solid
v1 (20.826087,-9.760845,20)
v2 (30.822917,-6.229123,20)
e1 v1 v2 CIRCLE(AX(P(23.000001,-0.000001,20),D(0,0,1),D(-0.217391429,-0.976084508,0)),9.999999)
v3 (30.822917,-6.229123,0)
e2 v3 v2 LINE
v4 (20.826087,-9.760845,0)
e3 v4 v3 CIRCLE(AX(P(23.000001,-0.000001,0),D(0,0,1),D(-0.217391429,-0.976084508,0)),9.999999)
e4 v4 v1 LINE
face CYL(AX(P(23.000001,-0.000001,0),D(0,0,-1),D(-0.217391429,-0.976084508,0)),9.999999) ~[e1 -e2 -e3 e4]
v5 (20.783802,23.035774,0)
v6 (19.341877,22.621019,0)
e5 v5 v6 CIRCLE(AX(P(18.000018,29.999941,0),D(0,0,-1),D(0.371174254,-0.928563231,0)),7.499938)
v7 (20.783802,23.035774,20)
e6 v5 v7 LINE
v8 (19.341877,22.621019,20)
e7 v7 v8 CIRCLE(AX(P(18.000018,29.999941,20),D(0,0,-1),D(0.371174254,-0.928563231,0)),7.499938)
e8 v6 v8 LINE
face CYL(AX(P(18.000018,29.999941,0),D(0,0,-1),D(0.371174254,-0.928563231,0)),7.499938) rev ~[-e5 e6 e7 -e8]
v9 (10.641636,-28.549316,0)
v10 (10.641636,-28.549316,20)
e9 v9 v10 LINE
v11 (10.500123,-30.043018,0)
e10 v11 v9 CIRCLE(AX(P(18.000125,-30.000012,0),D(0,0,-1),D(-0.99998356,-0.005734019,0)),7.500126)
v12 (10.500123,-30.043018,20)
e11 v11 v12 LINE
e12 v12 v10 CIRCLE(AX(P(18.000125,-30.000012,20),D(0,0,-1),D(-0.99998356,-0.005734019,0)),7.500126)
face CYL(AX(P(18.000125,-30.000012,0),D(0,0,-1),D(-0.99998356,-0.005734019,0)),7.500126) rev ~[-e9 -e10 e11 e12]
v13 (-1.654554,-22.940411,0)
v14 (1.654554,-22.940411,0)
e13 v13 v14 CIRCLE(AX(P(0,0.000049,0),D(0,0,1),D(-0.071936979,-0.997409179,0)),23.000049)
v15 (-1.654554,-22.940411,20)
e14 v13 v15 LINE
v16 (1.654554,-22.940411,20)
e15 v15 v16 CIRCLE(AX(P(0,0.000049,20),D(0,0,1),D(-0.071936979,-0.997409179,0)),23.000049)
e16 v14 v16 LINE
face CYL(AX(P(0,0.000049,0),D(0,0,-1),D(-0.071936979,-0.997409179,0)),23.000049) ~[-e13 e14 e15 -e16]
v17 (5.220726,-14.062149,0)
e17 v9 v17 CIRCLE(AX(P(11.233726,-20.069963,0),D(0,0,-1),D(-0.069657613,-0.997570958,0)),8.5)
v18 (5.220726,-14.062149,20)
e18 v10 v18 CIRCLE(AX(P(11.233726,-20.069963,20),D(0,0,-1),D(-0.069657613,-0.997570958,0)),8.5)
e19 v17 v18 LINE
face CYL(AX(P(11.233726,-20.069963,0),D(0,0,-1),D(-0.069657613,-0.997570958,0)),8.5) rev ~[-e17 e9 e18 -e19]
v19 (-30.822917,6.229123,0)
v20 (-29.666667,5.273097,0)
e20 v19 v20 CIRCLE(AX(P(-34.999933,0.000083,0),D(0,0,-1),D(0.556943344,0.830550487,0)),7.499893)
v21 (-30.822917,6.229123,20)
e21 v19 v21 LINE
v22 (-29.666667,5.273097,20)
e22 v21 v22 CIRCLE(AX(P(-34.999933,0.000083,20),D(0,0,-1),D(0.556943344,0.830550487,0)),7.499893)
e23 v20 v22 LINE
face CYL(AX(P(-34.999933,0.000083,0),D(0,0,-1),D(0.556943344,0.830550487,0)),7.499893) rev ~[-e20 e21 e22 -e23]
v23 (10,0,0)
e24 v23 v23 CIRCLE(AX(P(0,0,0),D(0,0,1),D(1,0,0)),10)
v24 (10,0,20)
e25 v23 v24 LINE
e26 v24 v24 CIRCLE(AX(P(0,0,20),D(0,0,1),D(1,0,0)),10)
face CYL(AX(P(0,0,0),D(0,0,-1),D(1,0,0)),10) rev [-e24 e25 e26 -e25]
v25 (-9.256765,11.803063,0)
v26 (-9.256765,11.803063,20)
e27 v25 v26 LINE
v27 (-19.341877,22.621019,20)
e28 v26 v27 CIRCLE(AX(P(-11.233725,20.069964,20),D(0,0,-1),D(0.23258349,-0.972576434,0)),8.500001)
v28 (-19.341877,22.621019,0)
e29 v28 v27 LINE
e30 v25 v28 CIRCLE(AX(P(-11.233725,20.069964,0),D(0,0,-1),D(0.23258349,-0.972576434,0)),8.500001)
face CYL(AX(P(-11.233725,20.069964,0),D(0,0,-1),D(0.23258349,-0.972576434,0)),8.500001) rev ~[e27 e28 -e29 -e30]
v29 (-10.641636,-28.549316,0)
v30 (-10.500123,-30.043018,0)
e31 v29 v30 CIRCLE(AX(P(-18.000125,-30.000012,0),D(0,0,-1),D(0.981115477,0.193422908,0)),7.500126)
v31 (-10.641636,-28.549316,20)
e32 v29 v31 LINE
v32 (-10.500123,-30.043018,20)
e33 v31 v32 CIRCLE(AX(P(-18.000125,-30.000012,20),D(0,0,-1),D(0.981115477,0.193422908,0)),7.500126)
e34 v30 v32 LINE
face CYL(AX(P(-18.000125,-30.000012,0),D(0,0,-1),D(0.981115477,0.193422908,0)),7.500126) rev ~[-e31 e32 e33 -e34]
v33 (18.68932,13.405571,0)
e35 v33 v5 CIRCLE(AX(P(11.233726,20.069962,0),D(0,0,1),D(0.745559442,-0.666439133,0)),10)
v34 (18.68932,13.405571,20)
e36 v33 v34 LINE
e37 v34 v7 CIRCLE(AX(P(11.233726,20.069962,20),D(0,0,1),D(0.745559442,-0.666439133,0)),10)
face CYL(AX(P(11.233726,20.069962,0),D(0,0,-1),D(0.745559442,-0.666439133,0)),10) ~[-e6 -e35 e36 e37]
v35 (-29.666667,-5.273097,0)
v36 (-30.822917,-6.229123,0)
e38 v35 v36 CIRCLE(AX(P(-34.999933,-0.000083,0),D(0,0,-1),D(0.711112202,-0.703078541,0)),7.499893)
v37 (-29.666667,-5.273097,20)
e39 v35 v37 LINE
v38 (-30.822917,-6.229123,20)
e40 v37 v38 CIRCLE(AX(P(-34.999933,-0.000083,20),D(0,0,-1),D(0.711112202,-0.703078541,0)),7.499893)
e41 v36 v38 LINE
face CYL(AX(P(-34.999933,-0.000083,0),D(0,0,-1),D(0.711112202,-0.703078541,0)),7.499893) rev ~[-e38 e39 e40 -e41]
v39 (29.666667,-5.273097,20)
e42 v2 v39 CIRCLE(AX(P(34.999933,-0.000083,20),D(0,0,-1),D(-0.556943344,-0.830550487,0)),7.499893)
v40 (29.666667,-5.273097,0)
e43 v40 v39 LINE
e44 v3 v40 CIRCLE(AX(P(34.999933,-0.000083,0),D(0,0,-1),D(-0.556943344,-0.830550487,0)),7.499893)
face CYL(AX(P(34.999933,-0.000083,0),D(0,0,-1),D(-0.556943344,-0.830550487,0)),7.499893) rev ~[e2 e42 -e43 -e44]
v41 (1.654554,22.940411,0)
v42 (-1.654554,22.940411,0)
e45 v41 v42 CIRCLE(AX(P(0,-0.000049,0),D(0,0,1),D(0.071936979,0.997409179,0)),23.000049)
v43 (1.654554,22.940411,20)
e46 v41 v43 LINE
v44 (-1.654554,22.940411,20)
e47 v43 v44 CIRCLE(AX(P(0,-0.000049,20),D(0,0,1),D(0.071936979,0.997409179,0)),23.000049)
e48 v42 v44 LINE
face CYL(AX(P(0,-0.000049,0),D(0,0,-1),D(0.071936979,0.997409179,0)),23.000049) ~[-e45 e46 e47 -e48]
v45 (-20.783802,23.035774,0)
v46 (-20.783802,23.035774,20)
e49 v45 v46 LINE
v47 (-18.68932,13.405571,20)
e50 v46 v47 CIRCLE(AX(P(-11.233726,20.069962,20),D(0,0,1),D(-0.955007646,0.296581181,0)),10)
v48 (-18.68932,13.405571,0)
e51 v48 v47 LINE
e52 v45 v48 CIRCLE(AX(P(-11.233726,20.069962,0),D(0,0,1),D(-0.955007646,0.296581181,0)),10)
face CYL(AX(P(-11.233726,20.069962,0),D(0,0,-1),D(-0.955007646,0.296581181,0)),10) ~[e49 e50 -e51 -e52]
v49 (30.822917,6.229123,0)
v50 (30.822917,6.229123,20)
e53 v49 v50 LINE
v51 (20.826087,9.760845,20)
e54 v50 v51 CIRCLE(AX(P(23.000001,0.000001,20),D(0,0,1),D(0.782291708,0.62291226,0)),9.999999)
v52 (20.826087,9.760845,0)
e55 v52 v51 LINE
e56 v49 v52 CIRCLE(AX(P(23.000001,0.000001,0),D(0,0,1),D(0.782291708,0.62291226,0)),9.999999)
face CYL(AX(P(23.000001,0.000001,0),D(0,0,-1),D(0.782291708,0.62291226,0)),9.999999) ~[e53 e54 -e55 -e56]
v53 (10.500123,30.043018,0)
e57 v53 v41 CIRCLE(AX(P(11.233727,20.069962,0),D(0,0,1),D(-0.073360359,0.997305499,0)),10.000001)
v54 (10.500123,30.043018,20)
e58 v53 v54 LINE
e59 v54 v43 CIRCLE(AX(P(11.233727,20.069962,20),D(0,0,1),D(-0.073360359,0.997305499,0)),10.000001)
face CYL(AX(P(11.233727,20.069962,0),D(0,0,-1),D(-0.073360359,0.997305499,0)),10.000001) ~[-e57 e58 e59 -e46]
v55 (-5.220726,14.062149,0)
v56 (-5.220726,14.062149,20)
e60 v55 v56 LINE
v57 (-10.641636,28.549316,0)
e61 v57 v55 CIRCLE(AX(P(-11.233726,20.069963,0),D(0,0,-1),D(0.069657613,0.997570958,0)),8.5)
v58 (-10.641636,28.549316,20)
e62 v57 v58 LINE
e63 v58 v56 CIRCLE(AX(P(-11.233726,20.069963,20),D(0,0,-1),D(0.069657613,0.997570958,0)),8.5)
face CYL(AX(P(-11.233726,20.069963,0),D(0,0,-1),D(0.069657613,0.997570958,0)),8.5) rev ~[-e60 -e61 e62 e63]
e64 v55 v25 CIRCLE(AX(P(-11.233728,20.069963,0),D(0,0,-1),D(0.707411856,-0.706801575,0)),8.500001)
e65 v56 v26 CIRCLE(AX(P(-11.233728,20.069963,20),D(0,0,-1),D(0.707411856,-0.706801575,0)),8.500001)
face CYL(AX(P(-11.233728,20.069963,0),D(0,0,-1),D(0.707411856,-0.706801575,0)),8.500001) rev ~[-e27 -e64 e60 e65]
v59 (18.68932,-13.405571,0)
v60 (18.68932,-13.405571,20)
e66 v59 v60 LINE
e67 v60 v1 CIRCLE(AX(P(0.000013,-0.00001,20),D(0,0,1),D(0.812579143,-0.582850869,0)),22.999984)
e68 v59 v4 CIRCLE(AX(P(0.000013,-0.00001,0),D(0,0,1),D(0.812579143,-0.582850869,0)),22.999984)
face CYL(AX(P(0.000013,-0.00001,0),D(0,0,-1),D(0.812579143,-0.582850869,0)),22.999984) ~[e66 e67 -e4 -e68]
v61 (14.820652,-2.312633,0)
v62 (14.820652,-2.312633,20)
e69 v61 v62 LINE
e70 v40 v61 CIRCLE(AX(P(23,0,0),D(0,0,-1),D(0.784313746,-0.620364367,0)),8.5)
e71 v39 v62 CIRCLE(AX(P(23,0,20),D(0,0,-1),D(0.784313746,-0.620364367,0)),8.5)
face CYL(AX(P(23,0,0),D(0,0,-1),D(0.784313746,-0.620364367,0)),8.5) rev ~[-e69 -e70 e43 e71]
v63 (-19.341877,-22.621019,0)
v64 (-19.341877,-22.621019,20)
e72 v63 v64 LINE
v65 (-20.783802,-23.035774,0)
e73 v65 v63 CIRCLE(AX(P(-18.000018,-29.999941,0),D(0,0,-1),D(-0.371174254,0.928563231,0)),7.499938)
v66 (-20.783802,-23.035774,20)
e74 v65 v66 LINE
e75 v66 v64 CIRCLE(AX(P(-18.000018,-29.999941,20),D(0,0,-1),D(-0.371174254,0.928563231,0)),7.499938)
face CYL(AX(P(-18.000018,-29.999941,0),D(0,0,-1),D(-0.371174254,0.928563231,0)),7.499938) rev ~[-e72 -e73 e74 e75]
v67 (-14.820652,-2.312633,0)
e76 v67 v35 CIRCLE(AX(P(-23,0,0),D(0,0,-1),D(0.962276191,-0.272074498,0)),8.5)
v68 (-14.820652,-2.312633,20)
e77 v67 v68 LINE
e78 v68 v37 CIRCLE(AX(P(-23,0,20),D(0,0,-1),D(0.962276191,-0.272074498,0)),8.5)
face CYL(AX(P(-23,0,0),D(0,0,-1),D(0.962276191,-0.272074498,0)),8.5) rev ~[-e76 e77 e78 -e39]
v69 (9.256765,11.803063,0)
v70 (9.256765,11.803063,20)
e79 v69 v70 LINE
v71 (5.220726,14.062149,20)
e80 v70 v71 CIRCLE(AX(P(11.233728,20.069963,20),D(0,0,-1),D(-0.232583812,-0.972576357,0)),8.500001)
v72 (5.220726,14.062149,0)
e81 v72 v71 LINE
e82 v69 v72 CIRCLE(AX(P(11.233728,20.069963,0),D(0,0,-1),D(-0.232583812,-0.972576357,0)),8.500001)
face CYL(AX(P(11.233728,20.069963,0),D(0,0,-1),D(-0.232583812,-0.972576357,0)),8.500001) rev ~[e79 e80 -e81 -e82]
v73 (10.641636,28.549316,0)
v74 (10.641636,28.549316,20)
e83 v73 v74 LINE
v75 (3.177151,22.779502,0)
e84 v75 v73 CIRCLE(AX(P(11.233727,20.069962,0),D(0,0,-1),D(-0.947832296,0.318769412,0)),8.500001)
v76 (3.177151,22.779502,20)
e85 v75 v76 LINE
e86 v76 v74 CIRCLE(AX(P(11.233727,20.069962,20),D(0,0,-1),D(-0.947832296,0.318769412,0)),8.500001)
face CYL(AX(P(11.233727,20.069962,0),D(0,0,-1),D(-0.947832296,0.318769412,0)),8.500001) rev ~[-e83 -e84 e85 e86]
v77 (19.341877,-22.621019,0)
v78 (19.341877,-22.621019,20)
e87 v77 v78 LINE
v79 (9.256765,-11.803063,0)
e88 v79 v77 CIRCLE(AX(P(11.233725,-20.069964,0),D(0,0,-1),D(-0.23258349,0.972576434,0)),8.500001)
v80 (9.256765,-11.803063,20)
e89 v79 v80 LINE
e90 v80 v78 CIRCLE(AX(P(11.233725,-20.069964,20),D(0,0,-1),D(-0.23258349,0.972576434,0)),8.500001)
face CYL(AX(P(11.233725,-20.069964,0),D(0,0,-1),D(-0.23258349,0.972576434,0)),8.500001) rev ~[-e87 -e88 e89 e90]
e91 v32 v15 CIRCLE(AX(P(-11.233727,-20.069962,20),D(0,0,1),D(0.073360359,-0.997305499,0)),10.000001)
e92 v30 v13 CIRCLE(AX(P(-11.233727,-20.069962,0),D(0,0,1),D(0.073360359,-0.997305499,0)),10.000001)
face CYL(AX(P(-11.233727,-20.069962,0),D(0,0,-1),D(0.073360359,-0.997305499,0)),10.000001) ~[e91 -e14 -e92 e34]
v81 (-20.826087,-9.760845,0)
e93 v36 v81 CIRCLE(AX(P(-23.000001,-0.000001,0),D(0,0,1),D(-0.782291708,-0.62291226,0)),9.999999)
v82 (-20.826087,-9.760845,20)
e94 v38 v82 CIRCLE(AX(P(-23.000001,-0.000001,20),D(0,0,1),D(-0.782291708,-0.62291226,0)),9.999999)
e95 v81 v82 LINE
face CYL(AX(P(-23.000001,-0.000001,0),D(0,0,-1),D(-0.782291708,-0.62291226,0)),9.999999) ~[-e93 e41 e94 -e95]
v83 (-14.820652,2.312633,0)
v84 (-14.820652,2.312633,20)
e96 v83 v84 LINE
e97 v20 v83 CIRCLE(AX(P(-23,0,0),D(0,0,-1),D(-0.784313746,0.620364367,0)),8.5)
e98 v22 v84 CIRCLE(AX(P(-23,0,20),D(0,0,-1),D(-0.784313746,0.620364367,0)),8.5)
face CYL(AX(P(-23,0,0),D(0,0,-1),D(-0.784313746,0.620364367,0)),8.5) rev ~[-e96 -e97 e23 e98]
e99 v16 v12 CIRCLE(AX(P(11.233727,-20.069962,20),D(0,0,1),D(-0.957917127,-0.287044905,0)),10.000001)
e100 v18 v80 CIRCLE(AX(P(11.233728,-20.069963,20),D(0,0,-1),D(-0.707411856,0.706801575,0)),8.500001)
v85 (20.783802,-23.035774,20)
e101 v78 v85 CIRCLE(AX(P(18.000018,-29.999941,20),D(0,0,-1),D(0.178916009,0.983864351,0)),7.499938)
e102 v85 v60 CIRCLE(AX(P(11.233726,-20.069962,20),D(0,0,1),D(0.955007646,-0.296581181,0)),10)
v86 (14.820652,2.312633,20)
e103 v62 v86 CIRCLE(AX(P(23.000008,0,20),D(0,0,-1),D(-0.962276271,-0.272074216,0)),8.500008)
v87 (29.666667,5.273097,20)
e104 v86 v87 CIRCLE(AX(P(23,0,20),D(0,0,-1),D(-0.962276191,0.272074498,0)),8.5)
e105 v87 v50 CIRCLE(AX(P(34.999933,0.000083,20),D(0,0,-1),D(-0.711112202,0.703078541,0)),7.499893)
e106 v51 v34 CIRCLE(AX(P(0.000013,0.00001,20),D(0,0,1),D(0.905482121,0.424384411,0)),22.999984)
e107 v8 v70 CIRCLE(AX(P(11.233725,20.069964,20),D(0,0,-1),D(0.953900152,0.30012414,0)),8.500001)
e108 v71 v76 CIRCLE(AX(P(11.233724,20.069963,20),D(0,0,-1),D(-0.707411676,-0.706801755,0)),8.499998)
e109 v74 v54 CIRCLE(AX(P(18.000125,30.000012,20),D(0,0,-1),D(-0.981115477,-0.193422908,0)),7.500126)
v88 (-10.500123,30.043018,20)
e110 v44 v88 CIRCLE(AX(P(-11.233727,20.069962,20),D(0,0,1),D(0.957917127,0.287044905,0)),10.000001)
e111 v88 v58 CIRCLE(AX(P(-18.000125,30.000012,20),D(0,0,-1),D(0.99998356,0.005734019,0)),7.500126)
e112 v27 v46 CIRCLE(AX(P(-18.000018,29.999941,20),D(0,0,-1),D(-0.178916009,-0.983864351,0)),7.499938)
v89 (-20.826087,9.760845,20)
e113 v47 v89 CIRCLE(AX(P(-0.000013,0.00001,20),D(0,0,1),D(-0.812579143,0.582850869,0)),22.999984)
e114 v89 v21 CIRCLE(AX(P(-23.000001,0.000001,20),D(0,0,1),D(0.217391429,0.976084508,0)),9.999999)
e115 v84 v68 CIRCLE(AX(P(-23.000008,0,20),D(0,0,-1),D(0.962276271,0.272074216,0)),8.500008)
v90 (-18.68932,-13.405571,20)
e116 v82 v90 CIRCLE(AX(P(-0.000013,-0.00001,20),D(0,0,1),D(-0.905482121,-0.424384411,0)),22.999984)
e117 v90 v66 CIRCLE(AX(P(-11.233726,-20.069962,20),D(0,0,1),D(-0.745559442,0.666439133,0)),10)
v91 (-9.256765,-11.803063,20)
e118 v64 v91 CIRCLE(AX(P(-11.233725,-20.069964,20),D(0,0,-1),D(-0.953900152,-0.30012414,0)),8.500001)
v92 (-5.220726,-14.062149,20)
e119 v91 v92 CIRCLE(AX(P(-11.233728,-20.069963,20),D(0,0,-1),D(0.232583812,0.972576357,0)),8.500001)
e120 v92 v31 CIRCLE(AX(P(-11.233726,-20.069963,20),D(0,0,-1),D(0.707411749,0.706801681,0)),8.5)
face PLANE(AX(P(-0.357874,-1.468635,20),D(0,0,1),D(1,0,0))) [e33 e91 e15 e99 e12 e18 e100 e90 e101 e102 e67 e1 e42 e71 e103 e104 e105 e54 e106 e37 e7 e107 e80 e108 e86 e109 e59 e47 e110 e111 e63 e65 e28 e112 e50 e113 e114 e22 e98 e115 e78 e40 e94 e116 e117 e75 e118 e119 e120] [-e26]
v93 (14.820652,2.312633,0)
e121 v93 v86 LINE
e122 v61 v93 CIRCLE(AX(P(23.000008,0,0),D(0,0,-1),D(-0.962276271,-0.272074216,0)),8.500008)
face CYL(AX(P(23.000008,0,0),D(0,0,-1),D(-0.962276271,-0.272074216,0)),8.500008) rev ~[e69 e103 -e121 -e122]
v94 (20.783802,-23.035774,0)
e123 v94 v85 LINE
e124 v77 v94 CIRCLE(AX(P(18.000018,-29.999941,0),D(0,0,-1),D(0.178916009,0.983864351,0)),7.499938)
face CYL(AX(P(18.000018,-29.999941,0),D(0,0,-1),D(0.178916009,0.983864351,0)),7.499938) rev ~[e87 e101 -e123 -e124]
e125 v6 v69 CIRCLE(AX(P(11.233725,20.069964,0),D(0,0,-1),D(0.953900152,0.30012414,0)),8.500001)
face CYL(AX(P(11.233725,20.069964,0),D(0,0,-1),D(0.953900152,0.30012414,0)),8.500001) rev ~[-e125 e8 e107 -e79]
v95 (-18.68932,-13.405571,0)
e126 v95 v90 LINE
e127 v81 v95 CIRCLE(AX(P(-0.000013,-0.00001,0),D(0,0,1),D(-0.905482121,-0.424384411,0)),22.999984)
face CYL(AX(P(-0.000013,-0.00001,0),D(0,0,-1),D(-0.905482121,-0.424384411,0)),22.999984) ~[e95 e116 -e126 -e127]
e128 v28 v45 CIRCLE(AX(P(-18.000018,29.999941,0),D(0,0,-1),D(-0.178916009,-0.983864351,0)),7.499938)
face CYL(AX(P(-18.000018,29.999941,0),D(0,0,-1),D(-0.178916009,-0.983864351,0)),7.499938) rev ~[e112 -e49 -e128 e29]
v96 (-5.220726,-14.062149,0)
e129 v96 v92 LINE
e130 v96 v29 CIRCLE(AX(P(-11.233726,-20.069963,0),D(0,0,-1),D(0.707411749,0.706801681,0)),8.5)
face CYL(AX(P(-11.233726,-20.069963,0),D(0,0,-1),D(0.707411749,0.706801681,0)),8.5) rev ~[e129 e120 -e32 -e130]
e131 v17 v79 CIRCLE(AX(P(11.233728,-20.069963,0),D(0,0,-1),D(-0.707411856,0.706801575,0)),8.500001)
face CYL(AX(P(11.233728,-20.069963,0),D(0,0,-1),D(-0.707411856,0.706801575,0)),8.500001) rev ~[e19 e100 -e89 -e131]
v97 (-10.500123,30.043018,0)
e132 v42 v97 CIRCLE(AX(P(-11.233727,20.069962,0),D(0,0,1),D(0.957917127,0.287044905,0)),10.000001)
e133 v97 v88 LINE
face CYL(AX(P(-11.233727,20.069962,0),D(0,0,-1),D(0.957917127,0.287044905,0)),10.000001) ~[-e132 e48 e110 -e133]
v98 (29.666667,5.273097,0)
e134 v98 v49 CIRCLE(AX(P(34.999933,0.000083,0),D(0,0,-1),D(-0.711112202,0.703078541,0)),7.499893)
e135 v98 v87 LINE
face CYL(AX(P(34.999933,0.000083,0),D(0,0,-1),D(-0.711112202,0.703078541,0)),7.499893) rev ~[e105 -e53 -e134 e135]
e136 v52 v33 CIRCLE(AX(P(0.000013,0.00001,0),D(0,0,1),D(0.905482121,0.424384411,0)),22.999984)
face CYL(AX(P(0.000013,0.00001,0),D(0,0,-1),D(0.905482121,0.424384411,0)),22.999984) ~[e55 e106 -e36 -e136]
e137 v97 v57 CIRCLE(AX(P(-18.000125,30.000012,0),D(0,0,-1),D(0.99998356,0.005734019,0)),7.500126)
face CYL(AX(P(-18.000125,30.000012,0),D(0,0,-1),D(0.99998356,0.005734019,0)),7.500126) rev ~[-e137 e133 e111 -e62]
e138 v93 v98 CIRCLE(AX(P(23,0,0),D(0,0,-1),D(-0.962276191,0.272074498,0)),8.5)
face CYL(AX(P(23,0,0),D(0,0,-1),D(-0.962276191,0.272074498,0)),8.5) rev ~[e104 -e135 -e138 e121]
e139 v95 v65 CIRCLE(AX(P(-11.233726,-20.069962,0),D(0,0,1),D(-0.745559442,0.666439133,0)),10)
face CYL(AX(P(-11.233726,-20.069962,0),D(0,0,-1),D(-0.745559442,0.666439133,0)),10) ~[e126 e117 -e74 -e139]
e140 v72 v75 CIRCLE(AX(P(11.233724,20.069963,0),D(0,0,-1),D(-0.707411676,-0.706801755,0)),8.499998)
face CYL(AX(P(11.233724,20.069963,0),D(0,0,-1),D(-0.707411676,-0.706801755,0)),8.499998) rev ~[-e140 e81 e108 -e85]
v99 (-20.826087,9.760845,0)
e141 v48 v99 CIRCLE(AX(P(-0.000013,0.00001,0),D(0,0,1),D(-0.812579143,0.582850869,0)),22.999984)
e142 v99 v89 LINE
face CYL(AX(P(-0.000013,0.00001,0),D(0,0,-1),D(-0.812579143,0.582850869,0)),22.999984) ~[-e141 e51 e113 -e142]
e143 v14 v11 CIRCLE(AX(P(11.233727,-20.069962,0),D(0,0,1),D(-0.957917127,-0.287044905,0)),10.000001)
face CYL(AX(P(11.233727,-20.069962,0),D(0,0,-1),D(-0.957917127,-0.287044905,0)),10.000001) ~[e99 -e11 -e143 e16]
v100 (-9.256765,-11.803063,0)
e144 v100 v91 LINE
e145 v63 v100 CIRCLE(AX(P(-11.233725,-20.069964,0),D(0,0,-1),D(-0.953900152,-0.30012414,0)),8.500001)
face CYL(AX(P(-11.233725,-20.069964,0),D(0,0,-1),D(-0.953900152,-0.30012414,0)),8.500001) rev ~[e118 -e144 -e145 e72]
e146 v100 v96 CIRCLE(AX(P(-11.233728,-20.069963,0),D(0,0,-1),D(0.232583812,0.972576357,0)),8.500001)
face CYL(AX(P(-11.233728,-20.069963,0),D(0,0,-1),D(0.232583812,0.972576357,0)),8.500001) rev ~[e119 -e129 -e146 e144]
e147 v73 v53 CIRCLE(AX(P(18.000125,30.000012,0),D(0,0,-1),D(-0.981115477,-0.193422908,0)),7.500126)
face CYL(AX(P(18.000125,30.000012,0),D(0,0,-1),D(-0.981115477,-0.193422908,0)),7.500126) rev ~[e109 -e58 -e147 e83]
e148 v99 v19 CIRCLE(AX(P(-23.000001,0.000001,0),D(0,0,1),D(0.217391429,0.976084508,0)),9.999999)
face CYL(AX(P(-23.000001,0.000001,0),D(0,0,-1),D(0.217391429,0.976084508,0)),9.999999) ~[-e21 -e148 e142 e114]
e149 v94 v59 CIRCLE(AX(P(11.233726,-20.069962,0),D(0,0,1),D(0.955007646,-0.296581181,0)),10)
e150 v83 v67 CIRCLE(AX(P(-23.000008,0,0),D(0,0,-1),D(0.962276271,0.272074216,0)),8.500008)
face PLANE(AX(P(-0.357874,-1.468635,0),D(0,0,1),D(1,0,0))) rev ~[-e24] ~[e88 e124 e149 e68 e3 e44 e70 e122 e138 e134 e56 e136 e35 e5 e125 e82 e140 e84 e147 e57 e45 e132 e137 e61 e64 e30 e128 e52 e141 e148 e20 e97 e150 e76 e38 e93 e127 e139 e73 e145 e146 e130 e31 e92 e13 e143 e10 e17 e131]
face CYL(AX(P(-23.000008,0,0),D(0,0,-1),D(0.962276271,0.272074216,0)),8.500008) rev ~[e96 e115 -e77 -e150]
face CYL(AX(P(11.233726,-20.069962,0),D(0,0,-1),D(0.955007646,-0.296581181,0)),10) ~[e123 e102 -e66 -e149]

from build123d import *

# Parameters (mm, degrees)
F0_R     = 10
F1_DEPTH = 20


with BuildPart() as f1:
    # F0 (on Top) → F1 (new body)
    with BuildSketch(Plane.XY):
        with BuildLine():
            ThreePointArc((29.666667, -5.273097), (21.337731, -8.335878), (14.820652, -2.312633))
            ThreePointArc((14.820652, -2.312633), (14.5, 0), (14.820652, 2.312633))
            ThreePointArc((14.820652, 2.312633), (21.337731, 8.335878), (29.666667, 5.273097))
            ThreePointArc((29.666667, 5.273097), (30.220826, 5.780095), (30.822917, 6.229123))
            ThreePointArc((30.822917, 6.229123), (26.331077, 9.428888), (20.826087, 9.760845))
            ThreePointArc((20.826087, 9.760845), (19.841569, 11.632375), (18.68932, 13.405571))
            ThreePointArc((18.68932, 13.405571), (21.005287, 17.944736), (20.783802, 23.035774))
            ThreePointArc((20.783802, 23.035774), (20.073237, 22.792248), (19.341877, 22.621019))
            ThreePointArc((19.341877, 22.621019), (17.451033, 14.273836), (9.256765, 11.803063))
            ThreePointArc((9.256765, 11.803063), (7.082131, 12.652803), (5.220726, 14.062149))
            ThreePointArc((5.220726, 14.062149), (2.958081, 18.129936), (3.177151, 22.779502))
            ThreePointArc((3.177151, 22.779502), (2.417192, 22.87263), (1.654554, 22.940411))
            ThreePointArc((1.654554, 22.940411), (0, 23), (-1.654554, 22.940411))
            ThreePointArc((-1.654554, 22.940411), (-4.972729, 27.867393), (-10.500123, 30.043018))
            ThreePointArc((-10.500123, 30.043018), (-10.533434, 29.292619), (-10.641636, 28.549316))
            ThreePointArc((-10.641636, 28.549316), (-3.272802, 23.048837), (-5.220726, 14.062149))
            ThreePointArc((-5.220726, 14.062149), (-7.082131, 12.652803), (-9.256765, 11.803063))
            ThreePointArc((-9.256765, 11.803063), (-17.451033, 14.273836), (-19.341877, 22.621019))
            ThreePointArc((-19.341877, 22.621019), (-20.073237, 22.792248), (-20.783802, 23.035774))
            ThreePointArc((-20.783802, 23.035774), (-21.005287, 17.944736), (-18.68932, 13.405571))
            ThreePointArc((-18.68932, 13.405571), (-19.841569, 11.632375), (-20.826087, 9.760845))
            ThreePointArc((-20.826087, 9.760845), (-26.331077, 9.428888), (-30.822917, 6.229123))
            ThreePointArc((-30.822917, 6.229123), (-30.220826, 5.780095), (-29.666667, 5.273097))
            ThreePointArc((-29.666667, 5.273097), (-21.337731, 8.335878), (-14.820652, 2.312633))
            ThreePointArc((-14.820652, 2.312633), (-14.5, 0), (-14.820652, -2.312633))
            ThreePointArc((-14.820652, -2.312633), (-21.337731, -8.335878), (-29.666667, -5.273097))
            ThreePointArc((-29.666667, -5.273097), (-30.220826, -5.780095), (-30.822917, -6.229123))
            ThreePointArc((-30.822917, -6.229123), (-26.331077, -9.428888), (-20.826087, -9.760845))
            ThreePointArc((-20.826087, -9.760845), (-19.841569, -11.632375), (-18.68932, -13.405571))
            ThreePointArc((-18.68932, -13.405571), (-21.005287, -17.944736), (-20.783802, -23.035774))
            ThreePointArc((-20.783802, -23.035774), (-20.073237, -22.792248), (-19.341877, -22.621019))
            ThreePointArc((-19.341877, -22.621019), (-17.451033, -14.273836), (-9.256765, -11.803063))
            ThreePointArc((-9.256765, -11.803063), (-7.082131, -12.652803), (-5.220726, -14.062149))
            ThreePointArc((-5.220726, -14.062149), (-3.272802, -23.048837), (-10.641636, -28.549316))
            ThreePointArc((-10.641636, -28.549316), (-10.533434, -29.292619), (-10.500123, -30.043018))
            ThreePointArc((-10.500123, -30.043018), (-4.972729, -27.867393), (-1.654554, -22.940411))
            ThreePointArc((-1.654554, -22.940411), (0, -23), (1.654554, -22.940411))
            ThreePointArc((1.654554, -22.940411), (4.972729, -27.867393), (10.500123, -30.043018))
            ThreePointArc((10.500123, -30.043018), (10.533434, -29.292619), (10.641636, -28.549316))
            ThreePointArc((10.641636, -28.549316), (3.272802, -23.048837), (5.220726, -14.062149))
            ThreePointArc((5.220726, -14.062149), (7.082131, -12.652803), (9.256765, -11.803063))
            ThreePointArc((9.256765, -11.803063), (17.451033, -14.273836), (19.341877, -22.621019))
            ThreePointArc((19.341877, -22.621019), (20.073237, -22.792248), (20.783802, -23.035774))
            ThreePointArc((20.783802, -23.035774), (21.005287, -17.944736), (18.68932, -13.405571))
            ThreePointArc((18.68932, -13.405571), (19.841569, -11.632375), (20.826087, -9.760845))
            ThreePointArc((20.826087, -9.760845), (26.331077, -9.428888), (30.822917, -6.229123))
            ThreePointArc((30.822917, -6.229123), (30.220826, -5.780095), (29.666667, -5.273097))
        make_face()
        Circle(F0_R, mode=Mode.SUBTRACT)
        with BuildLine():
            ThreePointArc((1.654554, 22.940411), (2.417192, 22.87263), (3.177151, 22.779502))
            ThreePointArc((3.177151, 22.779502), (6.035405, 26.795099), (10.641636, 28.549316))
            ThreePointArc((10.641636, 28.549316), (10.533434, 29.292619), (10.500123, 30.043018))
            ThreePointArc((10.500123, 30.043018), (4.972729, 27.867393), (1.654554, 22.940411))
        make_face()
    extrude(amount=F1_DEPTH)


solid = f1.part
